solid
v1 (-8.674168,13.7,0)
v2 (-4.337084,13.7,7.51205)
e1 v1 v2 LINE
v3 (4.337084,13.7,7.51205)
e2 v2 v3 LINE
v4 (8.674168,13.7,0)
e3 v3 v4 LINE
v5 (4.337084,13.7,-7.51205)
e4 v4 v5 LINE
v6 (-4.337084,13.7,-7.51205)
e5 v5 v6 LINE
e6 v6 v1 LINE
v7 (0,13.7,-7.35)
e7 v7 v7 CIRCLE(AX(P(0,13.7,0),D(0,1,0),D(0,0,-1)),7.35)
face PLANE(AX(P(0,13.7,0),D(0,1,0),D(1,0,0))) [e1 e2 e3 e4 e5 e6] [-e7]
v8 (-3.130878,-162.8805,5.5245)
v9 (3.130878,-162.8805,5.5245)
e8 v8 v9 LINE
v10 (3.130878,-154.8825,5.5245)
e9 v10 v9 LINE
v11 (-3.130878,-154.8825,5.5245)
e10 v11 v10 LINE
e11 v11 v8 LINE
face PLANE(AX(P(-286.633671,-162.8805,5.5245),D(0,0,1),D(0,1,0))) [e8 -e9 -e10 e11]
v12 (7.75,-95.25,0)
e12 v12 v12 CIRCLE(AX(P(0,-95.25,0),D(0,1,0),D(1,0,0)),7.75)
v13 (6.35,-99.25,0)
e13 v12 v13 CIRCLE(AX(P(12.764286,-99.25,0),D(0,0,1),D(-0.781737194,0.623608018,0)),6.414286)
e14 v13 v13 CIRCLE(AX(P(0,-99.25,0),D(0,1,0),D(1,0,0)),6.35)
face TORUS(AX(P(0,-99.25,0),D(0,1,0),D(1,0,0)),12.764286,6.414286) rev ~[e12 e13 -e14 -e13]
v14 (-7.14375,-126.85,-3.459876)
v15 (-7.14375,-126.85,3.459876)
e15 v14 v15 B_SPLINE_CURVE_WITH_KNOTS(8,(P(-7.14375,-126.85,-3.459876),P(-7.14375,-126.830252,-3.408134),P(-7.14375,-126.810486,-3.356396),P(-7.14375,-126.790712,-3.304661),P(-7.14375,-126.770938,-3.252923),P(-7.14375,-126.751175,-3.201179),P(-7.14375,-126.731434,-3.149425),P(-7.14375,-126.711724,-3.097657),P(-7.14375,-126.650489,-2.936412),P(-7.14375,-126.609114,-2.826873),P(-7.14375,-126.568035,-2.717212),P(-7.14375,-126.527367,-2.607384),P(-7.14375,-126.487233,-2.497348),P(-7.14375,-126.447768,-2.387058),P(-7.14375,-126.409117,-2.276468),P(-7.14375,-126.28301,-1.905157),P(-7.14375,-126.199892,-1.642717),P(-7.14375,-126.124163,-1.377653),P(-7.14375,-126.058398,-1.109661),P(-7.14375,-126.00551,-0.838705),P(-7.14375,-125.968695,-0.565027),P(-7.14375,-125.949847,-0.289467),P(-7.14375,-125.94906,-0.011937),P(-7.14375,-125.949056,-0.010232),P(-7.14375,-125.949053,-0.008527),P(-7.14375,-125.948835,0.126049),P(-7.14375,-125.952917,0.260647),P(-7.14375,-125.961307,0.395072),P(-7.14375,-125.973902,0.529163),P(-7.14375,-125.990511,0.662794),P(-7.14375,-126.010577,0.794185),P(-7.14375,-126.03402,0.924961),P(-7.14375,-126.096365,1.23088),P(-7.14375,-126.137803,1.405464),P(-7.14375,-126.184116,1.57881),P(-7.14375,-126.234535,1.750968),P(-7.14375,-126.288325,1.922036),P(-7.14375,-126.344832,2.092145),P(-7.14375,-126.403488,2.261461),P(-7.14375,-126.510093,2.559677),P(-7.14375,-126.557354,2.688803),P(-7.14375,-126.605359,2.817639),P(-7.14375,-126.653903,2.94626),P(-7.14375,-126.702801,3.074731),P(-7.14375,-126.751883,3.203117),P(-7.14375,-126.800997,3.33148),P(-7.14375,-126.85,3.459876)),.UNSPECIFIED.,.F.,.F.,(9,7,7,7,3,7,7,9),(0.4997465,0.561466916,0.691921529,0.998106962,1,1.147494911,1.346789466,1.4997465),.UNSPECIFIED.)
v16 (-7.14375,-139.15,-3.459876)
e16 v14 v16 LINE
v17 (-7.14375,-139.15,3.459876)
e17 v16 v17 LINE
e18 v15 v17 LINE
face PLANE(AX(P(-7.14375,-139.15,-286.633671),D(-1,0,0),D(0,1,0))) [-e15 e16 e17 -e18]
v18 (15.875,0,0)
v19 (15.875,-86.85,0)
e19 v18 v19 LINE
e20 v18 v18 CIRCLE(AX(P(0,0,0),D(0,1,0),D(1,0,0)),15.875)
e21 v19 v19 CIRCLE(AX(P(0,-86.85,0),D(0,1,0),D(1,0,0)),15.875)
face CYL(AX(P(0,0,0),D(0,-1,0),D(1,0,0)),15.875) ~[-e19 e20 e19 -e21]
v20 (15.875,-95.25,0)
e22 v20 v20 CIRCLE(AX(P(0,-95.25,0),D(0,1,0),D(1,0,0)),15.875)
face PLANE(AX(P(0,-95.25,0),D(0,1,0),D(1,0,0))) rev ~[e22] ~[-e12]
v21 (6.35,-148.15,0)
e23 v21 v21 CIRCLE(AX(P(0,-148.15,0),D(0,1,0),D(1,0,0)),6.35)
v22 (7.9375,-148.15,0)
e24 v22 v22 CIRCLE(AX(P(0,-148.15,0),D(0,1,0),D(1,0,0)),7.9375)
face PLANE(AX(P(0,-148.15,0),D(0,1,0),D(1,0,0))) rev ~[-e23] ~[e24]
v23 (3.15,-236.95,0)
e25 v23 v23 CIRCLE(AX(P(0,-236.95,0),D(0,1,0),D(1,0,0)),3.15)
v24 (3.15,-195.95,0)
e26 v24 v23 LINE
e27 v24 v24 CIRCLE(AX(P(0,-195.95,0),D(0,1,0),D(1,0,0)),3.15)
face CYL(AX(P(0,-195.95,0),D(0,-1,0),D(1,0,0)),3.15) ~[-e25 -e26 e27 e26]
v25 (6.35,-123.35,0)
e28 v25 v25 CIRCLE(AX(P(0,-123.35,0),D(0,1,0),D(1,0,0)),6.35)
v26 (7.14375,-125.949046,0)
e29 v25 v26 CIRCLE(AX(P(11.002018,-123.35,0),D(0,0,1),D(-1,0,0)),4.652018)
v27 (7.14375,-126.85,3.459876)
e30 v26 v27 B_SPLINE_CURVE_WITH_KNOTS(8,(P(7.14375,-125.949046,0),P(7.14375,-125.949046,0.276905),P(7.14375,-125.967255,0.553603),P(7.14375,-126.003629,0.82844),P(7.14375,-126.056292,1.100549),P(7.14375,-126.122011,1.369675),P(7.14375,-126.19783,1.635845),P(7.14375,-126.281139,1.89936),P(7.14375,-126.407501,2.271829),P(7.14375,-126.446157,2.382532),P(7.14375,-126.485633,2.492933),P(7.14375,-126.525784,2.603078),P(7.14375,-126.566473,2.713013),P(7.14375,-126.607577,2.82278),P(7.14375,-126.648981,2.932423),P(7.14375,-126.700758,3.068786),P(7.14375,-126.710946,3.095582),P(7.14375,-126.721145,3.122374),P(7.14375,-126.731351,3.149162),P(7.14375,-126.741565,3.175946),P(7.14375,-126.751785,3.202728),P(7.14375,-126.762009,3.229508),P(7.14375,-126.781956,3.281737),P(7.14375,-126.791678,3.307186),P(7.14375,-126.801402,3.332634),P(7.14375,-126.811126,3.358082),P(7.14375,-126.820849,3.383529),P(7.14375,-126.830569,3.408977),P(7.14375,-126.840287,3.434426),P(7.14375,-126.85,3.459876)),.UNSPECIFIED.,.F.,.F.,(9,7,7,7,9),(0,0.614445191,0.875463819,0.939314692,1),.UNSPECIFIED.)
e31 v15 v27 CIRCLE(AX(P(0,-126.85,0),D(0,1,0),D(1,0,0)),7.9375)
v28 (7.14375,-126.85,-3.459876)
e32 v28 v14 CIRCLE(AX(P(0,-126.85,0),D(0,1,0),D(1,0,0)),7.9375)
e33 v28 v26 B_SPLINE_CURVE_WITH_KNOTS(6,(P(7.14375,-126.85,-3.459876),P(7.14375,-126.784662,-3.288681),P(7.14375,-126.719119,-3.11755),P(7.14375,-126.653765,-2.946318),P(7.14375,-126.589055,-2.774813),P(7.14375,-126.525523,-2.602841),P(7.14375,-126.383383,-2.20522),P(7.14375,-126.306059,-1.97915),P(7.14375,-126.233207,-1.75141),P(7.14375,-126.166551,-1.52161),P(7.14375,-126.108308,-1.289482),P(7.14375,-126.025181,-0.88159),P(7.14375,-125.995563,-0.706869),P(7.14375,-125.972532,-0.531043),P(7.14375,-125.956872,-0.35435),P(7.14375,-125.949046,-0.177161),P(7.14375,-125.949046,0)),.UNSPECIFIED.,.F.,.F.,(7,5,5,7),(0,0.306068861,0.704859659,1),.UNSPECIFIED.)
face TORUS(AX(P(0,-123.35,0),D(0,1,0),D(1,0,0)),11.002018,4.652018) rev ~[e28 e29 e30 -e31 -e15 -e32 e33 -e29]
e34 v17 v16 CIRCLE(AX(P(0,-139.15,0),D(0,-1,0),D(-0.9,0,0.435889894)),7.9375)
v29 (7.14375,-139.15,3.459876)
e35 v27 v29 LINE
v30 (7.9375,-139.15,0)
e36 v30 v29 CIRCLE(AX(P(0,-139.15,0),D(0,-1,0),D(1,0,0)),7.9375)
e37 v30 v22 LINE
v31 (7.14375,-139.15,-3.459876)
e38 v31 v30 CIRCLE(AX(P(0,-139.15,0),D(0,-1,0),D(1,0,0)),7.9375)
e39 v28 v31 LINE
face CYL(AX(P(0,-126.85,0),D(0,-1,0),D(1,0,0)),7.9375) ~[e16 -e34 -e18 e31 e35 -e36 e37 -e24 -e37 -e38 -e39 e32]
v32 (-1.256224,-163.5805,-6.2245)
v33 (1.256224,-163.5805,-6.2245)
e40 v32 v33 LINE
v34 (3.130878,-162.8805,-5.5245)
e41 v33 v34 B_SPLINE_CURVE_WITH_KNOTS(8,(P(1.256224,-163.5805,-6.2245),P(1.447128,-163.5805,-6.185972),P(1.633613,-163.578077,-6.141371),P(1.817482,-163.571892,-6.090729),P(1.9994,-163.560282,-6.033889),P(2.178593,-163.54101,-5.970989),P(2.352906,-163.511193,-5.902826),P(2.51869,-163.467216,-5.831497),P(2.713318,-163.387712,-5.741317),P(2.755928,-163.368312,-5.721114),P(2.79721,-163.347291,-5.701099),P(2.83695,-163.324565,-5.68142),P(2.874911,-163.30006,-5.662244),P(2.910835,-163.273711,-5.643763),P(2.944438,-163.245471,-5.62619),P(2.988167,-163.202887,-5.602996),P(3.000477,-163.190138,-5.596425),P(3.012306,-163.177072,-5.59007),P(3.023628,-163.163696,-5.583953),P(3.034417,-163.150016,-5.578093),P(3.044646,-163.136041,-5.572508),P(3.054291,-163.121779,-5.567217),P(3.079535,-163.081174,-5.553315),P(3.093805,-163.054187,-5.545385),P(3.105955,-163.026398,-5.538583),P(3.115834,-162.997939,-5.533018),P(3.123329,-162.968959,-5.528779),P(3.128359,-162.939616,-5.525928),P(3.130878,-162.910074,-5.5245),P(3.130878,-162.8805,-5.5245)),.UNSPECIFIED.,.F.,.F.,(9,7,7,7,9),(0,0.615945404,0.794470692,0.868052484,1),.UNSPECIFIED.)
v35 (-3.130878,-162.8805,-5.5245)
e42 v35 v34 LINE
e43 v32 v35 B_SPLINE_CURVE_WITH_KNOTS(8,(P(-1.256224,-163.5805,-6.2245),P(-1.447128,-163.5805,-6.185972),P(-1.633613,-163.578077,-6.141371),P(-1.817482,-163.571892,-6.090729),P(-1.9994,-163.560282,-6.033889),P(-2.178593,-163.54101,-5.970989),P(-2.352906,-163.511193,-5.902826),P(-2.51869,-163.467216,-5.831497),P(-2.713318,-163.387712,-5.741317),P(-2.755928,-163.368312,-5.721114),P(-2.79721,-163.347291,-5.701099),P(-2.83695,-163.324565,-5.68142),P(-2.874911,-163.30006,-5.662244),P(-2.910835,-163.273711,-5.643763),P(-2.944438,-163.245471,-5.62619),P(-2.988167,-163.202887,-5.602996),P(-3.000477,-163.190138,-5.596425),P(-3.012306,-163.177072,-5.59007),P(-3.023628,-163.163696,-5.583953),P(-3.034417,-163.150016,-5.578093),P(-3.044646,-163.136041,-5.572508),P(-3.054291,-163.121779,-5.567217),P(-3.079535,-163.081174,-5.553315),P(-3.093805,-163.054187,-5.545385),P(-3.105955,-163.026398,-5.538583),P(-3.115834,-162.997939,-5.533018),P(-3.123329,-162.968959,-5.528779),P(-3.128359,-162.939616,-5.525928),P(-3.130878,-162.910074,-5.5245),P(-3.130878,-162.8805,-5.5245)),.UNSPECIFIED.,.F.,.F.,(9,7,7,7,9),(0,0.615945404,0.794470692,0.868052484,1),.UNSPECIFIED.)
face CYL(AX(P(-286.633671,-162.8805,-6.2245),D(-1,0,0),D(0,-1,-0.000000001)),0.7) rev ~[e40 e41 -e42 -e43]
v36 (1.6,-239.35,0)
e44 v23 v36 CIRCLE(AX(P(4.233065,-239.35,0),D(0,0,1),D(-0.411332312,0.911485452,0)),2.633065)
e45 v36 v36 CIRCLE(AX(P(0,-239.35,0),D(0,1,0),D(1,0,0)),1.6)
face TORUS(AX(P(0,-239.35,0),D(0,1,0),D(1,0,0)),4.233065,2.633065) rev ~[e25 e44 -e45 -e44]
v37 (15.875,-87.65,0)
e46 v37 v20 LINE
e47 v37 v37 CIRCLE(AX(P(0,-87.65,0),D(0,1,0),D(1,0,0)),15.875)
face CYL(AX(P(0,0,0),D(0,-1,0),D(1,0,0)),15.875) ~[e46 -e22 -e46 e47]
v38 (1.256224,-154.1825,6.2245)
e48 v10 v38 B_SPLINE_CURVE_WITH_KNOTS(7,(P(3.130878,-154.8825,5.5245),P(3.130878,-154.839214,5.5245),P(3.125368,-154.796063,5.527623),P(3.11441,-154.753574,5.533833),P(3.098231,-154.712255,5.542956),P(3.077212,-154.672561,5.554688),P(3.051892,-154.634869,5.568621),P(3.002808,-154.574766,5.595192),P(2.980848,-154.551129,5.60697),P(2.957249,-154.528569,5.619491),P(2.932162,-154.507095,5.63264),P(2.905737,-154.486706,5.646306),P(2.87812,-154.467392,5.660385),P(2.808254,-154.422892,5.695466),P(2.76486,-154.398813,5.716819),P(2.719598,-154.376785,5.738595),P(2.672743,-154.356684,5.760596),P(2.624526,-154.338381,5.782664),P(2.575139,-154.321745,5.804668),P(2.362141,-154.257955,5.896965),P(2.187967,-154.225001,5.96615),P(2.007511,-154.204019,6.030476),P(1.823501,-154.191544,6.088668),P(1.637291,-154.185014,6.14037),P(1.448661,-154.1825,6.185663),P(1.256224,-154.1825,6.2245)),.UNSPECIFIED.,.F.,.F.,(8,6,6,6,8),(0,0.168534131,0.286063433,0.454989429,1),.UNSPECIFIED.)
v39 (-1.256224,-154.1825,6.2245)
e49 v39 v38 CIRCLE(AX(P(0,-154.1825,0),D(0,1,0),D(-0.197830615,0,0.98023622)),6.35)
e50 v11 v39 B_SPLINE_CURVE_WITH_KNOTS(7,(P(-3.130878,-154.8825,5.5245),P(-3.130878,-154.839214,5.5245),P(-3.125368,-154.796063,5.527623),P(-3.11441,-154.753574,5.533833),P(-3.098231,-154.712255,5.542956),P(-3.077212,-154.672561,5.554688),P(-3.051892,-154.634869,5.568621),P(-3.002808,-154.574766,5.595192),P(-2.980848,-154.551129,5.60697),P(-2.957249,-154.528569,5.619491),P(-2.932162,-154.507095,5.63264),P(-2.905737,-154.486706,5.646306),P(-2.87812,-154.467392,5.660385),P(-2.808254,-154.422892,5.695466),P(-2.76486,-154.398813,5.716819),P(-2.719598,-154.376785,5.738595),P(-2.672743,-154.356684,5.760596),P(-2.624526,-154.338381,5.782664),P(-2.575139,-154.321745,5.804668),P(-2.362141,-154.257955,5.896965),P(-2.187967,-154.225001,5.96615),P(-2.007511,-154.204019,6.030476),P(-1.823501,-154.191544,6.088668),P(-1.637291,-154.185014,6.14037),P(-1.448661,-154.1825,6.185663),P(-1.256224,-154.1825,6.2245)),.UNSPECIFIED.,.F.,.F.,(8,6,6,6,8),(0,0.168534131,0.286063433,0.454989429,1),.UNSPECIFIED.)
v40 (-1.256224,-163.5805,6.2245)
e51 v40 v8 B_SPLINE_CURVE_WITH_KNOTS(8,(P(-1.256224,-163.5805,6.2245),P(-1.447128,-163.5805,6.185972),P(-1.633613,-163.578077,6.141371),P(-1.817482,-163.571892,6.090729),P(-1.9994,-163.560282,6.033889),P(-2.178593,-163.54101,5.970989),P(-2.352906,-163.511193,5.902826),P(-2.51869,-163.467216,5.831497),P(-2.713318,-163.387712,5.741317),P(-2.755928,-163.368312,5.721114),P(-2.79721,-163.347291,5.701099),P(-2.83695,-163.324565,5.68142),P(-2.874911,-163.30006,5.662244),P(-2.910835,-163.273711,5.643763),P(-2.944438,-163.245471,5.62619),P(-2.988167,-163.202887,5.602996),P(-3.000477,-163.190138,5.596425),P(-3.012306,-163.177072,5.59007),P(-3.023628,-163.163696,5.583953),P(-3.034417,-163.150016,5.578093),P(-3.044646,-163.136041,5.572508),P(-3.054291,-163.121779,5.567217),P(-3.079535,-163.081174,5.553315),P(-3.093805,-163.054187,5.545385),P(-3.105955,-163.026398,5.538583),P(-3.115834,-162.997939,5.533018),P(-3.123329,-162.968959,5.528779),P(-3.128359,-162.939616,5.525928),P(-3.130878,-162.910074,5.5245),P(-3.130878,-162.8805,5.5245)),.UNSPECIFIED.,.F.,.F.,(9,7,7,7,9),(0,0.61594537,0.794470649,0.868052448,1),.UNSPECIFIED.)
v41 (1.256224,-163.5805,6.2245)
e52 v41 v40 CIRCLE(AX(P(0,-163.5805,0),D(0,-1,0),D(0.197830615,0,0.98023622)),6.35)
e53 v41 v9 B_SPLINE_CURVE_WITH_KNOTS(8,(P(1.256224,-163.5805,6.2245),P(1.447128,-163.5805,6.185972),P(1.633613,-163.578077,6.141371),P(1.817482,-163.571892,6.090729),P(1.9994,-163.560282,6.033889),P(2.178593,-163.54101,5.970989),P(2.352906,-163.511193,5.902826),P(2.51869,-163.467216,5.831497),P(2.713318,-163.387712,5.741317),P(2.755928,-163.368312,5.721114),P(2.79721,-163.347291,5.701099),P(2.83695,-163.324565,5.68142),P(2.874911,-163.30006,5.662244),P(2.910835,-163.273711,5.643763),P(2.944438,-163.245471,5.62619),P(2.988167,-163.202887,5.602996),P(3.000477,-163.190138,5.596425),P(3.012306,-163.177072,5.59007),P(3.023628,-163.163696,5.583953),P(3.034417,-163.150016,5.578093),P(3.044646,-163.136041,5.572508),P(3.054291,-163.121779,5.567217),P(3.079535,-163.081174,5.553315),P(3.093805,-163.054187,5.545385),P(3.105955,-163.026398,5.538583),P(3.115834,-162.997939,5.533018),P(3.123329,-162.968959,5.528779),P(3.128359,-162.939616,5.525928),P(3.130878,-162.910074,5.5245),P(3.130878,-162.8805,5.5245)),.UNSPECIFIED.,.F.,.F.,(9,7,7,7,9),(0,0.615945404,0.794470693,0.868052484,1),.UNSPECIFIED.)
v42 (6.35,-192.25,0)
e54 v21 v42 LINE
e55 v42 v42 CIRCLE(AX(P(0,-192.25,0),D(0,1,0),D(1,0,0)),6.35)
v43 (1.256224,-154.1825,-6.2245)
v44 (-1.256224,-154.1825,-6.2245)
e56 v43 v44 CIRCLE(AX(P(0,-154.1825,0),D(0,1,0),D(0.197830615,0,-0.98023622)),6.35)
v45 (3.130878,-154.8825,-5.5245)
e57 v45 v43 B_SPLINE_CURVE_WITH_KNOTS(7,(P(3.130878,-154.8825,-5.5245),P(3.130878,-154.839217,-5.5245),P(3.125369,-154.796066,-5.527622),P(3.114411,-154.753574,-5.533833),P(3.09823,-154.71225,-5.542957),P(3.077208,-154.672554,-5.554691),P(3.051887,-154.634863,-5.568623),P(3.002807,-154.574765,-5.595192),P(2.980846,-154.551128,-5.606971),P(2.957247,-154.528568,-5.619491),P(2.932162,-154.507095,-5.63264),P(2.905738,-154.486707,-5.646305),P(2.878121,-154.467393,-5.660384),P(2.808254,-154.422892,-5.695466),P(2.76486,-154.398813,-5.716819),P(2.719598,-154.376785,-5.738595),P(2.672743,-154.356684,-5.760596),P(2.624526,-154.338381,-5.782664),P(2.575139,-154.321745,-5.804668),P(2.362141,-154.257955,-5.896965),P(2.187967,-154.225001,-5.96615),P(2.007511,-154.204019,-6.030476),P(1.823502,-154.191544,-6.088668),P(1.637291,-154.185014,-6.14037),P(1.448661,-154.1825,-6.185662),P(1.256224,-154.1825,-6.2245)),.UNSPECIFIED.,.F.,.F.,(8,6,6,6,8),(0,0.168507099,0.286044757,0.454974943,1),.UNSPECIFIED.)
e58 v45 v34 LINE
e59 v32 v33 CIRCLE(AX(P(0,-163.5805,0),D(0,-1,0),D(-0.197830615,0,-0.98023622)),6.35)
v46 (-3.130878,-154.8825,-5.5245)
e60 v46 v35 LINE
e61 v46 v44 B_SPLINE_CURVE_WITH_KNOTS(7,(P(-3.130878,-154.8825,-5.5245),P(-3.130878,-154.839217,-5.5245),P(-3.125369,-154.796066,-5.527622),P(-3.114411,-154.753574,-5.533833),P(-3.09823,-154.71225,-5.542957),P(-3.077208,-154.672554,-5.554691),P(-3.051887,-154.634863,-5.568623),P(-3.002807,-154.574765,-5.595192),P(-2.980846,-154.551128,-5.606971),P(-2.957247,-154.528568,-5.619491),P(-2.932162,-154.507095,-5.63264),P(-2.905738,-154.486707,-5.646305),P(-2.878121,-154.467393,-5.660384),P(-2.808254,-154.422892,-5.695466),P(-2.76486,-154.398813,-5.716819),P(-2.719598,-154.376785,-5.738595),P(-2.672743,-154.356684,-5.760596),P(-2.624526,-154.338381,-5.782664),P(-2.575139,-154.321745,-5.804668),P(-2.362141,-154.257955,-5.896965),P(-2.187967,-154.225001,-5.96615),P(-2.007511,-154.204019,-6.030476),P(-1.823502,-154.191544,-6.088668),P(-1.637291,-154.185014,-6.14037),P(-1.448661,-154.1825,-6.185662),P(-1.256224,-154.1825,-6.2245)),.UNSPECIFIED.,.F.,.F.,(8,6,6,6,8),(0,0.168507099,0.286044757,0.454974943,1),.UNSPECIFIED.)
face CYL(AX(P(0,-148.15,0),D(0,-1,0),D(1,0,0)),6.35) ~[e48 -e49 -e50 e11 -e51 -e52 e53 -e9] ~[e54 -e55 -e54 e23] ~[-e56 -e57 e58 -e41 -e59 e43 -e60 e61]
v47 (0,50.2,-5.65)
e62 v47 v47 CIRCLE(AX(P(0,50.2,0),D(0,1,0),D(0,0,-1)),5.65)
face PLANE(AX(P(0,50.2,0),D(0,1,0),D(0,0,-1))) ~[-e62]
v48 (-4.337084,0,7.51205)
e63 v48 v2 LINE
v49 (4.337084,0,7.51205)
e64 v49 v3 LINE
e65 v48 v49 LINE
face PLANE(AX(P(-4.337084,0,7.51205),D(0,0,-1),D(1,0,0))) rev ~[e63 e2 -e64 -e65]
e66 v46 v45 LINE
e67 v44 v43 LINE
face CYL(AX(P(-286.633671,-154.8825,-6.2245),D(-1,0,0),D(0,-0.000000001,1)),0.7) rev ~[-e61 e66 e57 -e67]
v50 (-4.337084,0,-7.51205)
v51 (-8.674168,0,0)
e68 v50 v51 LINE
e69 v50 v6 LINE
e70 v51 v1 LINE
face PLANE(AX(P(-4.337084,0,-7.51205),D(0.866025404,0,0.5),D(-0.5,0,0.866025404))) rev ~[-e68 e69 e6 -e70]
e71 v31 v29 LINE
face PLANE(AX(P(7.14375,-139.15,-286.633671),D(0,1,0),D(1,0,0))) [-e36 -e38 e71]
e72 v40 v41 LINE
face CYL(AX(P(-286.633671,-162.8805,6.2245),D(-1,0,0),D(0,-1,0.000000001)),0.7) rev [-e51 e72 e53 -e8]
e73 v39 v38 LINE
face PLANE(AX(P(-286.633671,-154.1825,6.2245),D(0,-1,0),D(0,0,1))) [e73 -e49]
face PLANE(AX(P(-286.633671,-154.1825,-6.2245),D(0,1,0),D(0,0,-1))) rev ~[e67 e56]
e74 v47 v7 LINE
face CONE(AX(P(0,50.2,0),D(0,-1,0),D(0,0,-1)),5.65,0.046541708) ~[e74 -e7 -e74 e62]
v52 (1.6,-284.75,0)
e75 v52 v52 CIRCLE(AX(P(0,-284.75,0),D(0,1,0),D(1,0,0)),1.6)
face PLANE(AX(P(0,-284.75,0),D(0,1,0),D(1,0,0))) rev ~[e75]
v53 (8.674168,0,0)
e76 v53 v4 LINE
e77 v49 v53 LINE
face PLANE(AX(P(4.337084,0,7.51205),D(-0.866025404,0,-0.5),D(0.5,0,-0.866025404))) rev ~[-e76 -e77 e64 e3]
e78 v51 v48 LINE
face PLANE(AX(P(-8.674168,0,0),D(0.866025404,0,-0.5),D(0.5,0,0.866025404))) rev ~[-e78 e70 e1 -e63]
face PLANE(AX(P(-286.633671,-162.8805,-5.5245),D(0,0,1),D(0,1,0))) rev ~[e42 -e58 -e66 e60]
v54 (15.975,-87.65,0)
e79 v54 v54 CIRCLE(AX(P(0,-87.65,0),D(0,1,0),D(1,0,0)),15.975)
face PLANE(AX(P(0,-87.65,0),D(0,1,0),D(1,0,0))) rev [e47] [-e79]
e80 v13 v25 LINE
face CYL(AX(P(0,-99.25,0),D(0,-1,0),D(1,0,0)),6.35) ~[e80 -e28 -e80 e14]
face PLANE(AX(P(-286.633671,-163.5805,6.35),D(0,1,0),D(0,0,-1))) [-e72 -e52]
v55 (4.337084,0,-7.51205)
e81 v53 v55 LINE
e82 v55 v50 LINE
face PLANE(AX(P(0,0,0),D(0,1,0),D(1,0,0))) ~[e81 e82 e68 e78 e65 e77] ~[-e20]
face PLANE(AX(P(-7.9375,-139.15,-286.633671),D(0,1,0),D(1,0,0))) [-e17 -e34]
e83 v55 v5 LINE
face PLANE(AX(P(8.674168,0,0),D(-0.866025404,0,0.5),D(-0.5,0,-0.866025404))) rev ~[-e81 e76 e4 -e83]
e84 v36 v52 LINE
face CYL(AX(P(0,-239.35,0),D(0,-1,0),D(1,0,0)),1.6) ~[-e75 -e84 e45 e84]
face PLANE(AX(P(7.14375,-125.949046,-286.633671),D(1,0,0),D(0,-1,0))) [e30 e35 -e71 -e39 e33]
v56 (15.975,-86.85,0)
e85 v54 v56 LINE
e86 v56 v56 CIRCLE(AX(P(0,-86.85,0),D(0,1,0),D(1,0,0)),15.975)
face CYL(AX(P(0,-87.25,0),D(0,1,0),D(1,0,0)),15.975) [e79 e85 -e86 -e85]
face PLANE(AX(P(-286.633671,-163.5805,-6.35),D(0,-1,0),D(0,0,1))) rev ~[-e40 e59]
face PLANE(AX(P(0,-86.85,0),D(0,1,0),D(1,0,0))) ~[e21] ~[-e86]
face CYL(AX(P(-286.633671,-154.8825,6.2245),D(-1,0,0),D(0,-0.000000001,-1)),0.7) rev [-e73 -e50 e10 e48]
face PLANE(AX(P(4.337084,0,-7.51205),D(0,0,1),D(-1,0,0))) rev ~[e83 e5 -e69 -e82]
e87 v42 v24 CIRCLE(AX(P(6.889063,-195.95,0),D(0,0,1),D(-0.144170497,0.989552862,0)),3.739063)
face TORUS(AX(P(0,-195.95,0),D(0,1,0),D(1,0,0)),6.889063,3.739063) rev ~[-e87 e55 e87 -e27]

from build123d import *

# Parameters (mm, degrees)
CUT_EXTRUDE1_DEPTH      = 286.633670547
CUT_EXTRUDE1_DEPTH_BACK = 286.633670547
CUT_EXTRUDE2_DEPTH      = 286.633670547
CUT_EXTRUDE2_DEPTH_BACK = 286.633670547
BOSS_EXTRUDE1_DEPTH     = 13.7
SKETCH7_W               = 0.1
SKETCH7_H               = 0.8


with BuildPart() as part:
    # Sketch1 → Revolve1 (revolve)
    with BuildSketch(Plane.XY):
        with BuildLine():
            Line((0, 0), (15.875, 0))
            Line((15.875, 0), (15.875, -95.25))
            Line((15.875, -95.25), (7.75, -95.25))
            ThreePointArc((7.75, -95.25), (6.710108543, -97.13103799), (6.35, -99.25))
            Line((6.35, -99.25), (6.35, -123.35))
            ThreePointArc((6.35, -123.35), (6.765423592, -125.271598049), (7.9375, -126.85))
            Line((7.9375, -126.85), (7.9375, -148.15))
            Line((7.9375, -148.15), (6.35, -148.15))
            Line((6.35, -148.15), (6.35, -192.25))
            ThreePointArc((6.35, -192.25), (4.060973326, -193.504085038), (3.15, -195.95))
            Line((3.15, -195.95), (3.15, -236.95))
            ThreePointArc((3.15, -236.95), (2.021186638, -237.921495537), (1.6, -239.35))
            Line((1.6, -239.35), (1.6, -284.75))
            Line((1.6, -284.75), (0, -284.75))
            Line((0, -284.75), (0, 0))
        make_face()
    revolve(axis=Axis((0, -284.75, 0), (0, 1, 0)))

    # Sketch3 → Cut-Extrude1 (cut, two sides: drawn at the far end of the back side and taken through both)
    with BuildSketch(Plane.XY.offset(-CUT_EXTRUDE1_DEPTH_BACK)):
        with BuildLine():
            Line((7.9375, -139.15), (7.9375, -126.85))
            ThreePointArc((7.9375, -126.85), (7.511434792, -126.425239776), (7.14375, -125.949045798))
            Line((7.14375, -125.949045798), (7.14375, -139.15))
            Line((7.14375, -139.15), (7.9375, -139.15))
        make_face()
        with BuildLine():
            Line((-7.14375, -139.15), (-7.14375, -125.949045798))
            ThreePointArc((-7.14375, -125.949045798), (-7.511434792, -126.425239776), (-7.9375, -126.85))
            Line((-7.9375, -126.85), (-7.9375, -139.15))
            Line((-7.9375, -139.15), (-7.14375, -139.15))
        make_face()
    extrude(amount=CUT_EXTRUDE1_DEPTH + CUT_EXTRUDE1_DEPTH_BACK, mode=Mode.SUBTRACT)

    # Sketch4 → Cut-Extrude2 (cut, two sides: drawn at the far end of the back side and taken through both)
    with BuildSketch(Plane(origin=(0, 0, 0), x_dir=(0, 0, -1), z_dir=(1, 0, 0)).offset(-CUT_EXTRUDE2_DEPTH_BACK)):
        with BuildLine():
            Line((6.35, -163.5805), (6.2245, -163.5805))
            ThreePointArc((6.2245, -163.5805), (5.729525253, -163.375474747), (5.5245, -162.8805))
            Line((5.5245, -162.8805), (5.5245, -154.8825))
            ThreePointArc((5.5245, -154.8825), (5.729525253, -154.387525253), (6.2245, -154.1825))
            Line((6.2245, -154.1825), (6.35, -154.1825))
            Line((6.35, -154.1825), (6.35, -163.5805))
        make_face()
        with BuildLine():
            Line((-5.5245, -162.8805), (-5.5245, -154.8825))
            ThreePointArc((-5.5245, -154.8825), (-5.729525253, -154.387525253), (-6.2245, -154.1825))
            Line((-6.2245, -154.1825), (-6.35, -154.1825))
            Line((-6.35, -154.1825), (-6.35, -163.5805))
            Line((-6.35, -163.5805), (-6.2245, -163.5805))
            ThreePointArc((-6.2245, -163.5805), (-5.729525253, -163.375474747), (-5.5245, -162.8805))
        make_face()
    extrude(amount=CUT_EXTRUDE2_DEPTH + CUT_EXTRUDE2_DEPTH_BACK, mode=Mode.SUBTRACT)

    # Sketch5 → Boss-Extrude1 (add)
    with BuildSketch(Plane(origin=(0, 0, 0), x_dir=(1, 0, 0), z_dir=(0, 1, 0))):
        Polygon((-4.33708409, 7.51205), (-8.674168179, 0), (-4.33708409, -7.51205), (4.33708409, -7.51205), (8.674168179, 0), (4.33708409, 7.51205), align=None)
    extrude(amount=BOSS_EXTRUDE1_DEPTH)

    # Sketch6 → Revolve2 (revolve)
    with BuildSketch(Plane.XY, mode=Mode.PRIVATE) as revolve2_sk:
        Polygon((7.35, 13.7), (0, 13.7), (0, 50.2), (5.65, 50.2), align=None)
    revolve(revolve2_sk.sketch.rotate(Axis((0, 13.7, 0), (0, 1, 0)), 90), axis=Axis((0, 13.7, 0), (0, 1, 0)))

    # Sketch7 → Dont Clamp Below (revolve)
    with BuildSketch(Plane.XY):
        with Locations((15.925, -87.25)):
            Rectangle(SKETCH7_W, SKETCH7_H)
    revolve(axis=Axis((0, -284.75, 0), (0, 1, 0)))


solid = part.part
